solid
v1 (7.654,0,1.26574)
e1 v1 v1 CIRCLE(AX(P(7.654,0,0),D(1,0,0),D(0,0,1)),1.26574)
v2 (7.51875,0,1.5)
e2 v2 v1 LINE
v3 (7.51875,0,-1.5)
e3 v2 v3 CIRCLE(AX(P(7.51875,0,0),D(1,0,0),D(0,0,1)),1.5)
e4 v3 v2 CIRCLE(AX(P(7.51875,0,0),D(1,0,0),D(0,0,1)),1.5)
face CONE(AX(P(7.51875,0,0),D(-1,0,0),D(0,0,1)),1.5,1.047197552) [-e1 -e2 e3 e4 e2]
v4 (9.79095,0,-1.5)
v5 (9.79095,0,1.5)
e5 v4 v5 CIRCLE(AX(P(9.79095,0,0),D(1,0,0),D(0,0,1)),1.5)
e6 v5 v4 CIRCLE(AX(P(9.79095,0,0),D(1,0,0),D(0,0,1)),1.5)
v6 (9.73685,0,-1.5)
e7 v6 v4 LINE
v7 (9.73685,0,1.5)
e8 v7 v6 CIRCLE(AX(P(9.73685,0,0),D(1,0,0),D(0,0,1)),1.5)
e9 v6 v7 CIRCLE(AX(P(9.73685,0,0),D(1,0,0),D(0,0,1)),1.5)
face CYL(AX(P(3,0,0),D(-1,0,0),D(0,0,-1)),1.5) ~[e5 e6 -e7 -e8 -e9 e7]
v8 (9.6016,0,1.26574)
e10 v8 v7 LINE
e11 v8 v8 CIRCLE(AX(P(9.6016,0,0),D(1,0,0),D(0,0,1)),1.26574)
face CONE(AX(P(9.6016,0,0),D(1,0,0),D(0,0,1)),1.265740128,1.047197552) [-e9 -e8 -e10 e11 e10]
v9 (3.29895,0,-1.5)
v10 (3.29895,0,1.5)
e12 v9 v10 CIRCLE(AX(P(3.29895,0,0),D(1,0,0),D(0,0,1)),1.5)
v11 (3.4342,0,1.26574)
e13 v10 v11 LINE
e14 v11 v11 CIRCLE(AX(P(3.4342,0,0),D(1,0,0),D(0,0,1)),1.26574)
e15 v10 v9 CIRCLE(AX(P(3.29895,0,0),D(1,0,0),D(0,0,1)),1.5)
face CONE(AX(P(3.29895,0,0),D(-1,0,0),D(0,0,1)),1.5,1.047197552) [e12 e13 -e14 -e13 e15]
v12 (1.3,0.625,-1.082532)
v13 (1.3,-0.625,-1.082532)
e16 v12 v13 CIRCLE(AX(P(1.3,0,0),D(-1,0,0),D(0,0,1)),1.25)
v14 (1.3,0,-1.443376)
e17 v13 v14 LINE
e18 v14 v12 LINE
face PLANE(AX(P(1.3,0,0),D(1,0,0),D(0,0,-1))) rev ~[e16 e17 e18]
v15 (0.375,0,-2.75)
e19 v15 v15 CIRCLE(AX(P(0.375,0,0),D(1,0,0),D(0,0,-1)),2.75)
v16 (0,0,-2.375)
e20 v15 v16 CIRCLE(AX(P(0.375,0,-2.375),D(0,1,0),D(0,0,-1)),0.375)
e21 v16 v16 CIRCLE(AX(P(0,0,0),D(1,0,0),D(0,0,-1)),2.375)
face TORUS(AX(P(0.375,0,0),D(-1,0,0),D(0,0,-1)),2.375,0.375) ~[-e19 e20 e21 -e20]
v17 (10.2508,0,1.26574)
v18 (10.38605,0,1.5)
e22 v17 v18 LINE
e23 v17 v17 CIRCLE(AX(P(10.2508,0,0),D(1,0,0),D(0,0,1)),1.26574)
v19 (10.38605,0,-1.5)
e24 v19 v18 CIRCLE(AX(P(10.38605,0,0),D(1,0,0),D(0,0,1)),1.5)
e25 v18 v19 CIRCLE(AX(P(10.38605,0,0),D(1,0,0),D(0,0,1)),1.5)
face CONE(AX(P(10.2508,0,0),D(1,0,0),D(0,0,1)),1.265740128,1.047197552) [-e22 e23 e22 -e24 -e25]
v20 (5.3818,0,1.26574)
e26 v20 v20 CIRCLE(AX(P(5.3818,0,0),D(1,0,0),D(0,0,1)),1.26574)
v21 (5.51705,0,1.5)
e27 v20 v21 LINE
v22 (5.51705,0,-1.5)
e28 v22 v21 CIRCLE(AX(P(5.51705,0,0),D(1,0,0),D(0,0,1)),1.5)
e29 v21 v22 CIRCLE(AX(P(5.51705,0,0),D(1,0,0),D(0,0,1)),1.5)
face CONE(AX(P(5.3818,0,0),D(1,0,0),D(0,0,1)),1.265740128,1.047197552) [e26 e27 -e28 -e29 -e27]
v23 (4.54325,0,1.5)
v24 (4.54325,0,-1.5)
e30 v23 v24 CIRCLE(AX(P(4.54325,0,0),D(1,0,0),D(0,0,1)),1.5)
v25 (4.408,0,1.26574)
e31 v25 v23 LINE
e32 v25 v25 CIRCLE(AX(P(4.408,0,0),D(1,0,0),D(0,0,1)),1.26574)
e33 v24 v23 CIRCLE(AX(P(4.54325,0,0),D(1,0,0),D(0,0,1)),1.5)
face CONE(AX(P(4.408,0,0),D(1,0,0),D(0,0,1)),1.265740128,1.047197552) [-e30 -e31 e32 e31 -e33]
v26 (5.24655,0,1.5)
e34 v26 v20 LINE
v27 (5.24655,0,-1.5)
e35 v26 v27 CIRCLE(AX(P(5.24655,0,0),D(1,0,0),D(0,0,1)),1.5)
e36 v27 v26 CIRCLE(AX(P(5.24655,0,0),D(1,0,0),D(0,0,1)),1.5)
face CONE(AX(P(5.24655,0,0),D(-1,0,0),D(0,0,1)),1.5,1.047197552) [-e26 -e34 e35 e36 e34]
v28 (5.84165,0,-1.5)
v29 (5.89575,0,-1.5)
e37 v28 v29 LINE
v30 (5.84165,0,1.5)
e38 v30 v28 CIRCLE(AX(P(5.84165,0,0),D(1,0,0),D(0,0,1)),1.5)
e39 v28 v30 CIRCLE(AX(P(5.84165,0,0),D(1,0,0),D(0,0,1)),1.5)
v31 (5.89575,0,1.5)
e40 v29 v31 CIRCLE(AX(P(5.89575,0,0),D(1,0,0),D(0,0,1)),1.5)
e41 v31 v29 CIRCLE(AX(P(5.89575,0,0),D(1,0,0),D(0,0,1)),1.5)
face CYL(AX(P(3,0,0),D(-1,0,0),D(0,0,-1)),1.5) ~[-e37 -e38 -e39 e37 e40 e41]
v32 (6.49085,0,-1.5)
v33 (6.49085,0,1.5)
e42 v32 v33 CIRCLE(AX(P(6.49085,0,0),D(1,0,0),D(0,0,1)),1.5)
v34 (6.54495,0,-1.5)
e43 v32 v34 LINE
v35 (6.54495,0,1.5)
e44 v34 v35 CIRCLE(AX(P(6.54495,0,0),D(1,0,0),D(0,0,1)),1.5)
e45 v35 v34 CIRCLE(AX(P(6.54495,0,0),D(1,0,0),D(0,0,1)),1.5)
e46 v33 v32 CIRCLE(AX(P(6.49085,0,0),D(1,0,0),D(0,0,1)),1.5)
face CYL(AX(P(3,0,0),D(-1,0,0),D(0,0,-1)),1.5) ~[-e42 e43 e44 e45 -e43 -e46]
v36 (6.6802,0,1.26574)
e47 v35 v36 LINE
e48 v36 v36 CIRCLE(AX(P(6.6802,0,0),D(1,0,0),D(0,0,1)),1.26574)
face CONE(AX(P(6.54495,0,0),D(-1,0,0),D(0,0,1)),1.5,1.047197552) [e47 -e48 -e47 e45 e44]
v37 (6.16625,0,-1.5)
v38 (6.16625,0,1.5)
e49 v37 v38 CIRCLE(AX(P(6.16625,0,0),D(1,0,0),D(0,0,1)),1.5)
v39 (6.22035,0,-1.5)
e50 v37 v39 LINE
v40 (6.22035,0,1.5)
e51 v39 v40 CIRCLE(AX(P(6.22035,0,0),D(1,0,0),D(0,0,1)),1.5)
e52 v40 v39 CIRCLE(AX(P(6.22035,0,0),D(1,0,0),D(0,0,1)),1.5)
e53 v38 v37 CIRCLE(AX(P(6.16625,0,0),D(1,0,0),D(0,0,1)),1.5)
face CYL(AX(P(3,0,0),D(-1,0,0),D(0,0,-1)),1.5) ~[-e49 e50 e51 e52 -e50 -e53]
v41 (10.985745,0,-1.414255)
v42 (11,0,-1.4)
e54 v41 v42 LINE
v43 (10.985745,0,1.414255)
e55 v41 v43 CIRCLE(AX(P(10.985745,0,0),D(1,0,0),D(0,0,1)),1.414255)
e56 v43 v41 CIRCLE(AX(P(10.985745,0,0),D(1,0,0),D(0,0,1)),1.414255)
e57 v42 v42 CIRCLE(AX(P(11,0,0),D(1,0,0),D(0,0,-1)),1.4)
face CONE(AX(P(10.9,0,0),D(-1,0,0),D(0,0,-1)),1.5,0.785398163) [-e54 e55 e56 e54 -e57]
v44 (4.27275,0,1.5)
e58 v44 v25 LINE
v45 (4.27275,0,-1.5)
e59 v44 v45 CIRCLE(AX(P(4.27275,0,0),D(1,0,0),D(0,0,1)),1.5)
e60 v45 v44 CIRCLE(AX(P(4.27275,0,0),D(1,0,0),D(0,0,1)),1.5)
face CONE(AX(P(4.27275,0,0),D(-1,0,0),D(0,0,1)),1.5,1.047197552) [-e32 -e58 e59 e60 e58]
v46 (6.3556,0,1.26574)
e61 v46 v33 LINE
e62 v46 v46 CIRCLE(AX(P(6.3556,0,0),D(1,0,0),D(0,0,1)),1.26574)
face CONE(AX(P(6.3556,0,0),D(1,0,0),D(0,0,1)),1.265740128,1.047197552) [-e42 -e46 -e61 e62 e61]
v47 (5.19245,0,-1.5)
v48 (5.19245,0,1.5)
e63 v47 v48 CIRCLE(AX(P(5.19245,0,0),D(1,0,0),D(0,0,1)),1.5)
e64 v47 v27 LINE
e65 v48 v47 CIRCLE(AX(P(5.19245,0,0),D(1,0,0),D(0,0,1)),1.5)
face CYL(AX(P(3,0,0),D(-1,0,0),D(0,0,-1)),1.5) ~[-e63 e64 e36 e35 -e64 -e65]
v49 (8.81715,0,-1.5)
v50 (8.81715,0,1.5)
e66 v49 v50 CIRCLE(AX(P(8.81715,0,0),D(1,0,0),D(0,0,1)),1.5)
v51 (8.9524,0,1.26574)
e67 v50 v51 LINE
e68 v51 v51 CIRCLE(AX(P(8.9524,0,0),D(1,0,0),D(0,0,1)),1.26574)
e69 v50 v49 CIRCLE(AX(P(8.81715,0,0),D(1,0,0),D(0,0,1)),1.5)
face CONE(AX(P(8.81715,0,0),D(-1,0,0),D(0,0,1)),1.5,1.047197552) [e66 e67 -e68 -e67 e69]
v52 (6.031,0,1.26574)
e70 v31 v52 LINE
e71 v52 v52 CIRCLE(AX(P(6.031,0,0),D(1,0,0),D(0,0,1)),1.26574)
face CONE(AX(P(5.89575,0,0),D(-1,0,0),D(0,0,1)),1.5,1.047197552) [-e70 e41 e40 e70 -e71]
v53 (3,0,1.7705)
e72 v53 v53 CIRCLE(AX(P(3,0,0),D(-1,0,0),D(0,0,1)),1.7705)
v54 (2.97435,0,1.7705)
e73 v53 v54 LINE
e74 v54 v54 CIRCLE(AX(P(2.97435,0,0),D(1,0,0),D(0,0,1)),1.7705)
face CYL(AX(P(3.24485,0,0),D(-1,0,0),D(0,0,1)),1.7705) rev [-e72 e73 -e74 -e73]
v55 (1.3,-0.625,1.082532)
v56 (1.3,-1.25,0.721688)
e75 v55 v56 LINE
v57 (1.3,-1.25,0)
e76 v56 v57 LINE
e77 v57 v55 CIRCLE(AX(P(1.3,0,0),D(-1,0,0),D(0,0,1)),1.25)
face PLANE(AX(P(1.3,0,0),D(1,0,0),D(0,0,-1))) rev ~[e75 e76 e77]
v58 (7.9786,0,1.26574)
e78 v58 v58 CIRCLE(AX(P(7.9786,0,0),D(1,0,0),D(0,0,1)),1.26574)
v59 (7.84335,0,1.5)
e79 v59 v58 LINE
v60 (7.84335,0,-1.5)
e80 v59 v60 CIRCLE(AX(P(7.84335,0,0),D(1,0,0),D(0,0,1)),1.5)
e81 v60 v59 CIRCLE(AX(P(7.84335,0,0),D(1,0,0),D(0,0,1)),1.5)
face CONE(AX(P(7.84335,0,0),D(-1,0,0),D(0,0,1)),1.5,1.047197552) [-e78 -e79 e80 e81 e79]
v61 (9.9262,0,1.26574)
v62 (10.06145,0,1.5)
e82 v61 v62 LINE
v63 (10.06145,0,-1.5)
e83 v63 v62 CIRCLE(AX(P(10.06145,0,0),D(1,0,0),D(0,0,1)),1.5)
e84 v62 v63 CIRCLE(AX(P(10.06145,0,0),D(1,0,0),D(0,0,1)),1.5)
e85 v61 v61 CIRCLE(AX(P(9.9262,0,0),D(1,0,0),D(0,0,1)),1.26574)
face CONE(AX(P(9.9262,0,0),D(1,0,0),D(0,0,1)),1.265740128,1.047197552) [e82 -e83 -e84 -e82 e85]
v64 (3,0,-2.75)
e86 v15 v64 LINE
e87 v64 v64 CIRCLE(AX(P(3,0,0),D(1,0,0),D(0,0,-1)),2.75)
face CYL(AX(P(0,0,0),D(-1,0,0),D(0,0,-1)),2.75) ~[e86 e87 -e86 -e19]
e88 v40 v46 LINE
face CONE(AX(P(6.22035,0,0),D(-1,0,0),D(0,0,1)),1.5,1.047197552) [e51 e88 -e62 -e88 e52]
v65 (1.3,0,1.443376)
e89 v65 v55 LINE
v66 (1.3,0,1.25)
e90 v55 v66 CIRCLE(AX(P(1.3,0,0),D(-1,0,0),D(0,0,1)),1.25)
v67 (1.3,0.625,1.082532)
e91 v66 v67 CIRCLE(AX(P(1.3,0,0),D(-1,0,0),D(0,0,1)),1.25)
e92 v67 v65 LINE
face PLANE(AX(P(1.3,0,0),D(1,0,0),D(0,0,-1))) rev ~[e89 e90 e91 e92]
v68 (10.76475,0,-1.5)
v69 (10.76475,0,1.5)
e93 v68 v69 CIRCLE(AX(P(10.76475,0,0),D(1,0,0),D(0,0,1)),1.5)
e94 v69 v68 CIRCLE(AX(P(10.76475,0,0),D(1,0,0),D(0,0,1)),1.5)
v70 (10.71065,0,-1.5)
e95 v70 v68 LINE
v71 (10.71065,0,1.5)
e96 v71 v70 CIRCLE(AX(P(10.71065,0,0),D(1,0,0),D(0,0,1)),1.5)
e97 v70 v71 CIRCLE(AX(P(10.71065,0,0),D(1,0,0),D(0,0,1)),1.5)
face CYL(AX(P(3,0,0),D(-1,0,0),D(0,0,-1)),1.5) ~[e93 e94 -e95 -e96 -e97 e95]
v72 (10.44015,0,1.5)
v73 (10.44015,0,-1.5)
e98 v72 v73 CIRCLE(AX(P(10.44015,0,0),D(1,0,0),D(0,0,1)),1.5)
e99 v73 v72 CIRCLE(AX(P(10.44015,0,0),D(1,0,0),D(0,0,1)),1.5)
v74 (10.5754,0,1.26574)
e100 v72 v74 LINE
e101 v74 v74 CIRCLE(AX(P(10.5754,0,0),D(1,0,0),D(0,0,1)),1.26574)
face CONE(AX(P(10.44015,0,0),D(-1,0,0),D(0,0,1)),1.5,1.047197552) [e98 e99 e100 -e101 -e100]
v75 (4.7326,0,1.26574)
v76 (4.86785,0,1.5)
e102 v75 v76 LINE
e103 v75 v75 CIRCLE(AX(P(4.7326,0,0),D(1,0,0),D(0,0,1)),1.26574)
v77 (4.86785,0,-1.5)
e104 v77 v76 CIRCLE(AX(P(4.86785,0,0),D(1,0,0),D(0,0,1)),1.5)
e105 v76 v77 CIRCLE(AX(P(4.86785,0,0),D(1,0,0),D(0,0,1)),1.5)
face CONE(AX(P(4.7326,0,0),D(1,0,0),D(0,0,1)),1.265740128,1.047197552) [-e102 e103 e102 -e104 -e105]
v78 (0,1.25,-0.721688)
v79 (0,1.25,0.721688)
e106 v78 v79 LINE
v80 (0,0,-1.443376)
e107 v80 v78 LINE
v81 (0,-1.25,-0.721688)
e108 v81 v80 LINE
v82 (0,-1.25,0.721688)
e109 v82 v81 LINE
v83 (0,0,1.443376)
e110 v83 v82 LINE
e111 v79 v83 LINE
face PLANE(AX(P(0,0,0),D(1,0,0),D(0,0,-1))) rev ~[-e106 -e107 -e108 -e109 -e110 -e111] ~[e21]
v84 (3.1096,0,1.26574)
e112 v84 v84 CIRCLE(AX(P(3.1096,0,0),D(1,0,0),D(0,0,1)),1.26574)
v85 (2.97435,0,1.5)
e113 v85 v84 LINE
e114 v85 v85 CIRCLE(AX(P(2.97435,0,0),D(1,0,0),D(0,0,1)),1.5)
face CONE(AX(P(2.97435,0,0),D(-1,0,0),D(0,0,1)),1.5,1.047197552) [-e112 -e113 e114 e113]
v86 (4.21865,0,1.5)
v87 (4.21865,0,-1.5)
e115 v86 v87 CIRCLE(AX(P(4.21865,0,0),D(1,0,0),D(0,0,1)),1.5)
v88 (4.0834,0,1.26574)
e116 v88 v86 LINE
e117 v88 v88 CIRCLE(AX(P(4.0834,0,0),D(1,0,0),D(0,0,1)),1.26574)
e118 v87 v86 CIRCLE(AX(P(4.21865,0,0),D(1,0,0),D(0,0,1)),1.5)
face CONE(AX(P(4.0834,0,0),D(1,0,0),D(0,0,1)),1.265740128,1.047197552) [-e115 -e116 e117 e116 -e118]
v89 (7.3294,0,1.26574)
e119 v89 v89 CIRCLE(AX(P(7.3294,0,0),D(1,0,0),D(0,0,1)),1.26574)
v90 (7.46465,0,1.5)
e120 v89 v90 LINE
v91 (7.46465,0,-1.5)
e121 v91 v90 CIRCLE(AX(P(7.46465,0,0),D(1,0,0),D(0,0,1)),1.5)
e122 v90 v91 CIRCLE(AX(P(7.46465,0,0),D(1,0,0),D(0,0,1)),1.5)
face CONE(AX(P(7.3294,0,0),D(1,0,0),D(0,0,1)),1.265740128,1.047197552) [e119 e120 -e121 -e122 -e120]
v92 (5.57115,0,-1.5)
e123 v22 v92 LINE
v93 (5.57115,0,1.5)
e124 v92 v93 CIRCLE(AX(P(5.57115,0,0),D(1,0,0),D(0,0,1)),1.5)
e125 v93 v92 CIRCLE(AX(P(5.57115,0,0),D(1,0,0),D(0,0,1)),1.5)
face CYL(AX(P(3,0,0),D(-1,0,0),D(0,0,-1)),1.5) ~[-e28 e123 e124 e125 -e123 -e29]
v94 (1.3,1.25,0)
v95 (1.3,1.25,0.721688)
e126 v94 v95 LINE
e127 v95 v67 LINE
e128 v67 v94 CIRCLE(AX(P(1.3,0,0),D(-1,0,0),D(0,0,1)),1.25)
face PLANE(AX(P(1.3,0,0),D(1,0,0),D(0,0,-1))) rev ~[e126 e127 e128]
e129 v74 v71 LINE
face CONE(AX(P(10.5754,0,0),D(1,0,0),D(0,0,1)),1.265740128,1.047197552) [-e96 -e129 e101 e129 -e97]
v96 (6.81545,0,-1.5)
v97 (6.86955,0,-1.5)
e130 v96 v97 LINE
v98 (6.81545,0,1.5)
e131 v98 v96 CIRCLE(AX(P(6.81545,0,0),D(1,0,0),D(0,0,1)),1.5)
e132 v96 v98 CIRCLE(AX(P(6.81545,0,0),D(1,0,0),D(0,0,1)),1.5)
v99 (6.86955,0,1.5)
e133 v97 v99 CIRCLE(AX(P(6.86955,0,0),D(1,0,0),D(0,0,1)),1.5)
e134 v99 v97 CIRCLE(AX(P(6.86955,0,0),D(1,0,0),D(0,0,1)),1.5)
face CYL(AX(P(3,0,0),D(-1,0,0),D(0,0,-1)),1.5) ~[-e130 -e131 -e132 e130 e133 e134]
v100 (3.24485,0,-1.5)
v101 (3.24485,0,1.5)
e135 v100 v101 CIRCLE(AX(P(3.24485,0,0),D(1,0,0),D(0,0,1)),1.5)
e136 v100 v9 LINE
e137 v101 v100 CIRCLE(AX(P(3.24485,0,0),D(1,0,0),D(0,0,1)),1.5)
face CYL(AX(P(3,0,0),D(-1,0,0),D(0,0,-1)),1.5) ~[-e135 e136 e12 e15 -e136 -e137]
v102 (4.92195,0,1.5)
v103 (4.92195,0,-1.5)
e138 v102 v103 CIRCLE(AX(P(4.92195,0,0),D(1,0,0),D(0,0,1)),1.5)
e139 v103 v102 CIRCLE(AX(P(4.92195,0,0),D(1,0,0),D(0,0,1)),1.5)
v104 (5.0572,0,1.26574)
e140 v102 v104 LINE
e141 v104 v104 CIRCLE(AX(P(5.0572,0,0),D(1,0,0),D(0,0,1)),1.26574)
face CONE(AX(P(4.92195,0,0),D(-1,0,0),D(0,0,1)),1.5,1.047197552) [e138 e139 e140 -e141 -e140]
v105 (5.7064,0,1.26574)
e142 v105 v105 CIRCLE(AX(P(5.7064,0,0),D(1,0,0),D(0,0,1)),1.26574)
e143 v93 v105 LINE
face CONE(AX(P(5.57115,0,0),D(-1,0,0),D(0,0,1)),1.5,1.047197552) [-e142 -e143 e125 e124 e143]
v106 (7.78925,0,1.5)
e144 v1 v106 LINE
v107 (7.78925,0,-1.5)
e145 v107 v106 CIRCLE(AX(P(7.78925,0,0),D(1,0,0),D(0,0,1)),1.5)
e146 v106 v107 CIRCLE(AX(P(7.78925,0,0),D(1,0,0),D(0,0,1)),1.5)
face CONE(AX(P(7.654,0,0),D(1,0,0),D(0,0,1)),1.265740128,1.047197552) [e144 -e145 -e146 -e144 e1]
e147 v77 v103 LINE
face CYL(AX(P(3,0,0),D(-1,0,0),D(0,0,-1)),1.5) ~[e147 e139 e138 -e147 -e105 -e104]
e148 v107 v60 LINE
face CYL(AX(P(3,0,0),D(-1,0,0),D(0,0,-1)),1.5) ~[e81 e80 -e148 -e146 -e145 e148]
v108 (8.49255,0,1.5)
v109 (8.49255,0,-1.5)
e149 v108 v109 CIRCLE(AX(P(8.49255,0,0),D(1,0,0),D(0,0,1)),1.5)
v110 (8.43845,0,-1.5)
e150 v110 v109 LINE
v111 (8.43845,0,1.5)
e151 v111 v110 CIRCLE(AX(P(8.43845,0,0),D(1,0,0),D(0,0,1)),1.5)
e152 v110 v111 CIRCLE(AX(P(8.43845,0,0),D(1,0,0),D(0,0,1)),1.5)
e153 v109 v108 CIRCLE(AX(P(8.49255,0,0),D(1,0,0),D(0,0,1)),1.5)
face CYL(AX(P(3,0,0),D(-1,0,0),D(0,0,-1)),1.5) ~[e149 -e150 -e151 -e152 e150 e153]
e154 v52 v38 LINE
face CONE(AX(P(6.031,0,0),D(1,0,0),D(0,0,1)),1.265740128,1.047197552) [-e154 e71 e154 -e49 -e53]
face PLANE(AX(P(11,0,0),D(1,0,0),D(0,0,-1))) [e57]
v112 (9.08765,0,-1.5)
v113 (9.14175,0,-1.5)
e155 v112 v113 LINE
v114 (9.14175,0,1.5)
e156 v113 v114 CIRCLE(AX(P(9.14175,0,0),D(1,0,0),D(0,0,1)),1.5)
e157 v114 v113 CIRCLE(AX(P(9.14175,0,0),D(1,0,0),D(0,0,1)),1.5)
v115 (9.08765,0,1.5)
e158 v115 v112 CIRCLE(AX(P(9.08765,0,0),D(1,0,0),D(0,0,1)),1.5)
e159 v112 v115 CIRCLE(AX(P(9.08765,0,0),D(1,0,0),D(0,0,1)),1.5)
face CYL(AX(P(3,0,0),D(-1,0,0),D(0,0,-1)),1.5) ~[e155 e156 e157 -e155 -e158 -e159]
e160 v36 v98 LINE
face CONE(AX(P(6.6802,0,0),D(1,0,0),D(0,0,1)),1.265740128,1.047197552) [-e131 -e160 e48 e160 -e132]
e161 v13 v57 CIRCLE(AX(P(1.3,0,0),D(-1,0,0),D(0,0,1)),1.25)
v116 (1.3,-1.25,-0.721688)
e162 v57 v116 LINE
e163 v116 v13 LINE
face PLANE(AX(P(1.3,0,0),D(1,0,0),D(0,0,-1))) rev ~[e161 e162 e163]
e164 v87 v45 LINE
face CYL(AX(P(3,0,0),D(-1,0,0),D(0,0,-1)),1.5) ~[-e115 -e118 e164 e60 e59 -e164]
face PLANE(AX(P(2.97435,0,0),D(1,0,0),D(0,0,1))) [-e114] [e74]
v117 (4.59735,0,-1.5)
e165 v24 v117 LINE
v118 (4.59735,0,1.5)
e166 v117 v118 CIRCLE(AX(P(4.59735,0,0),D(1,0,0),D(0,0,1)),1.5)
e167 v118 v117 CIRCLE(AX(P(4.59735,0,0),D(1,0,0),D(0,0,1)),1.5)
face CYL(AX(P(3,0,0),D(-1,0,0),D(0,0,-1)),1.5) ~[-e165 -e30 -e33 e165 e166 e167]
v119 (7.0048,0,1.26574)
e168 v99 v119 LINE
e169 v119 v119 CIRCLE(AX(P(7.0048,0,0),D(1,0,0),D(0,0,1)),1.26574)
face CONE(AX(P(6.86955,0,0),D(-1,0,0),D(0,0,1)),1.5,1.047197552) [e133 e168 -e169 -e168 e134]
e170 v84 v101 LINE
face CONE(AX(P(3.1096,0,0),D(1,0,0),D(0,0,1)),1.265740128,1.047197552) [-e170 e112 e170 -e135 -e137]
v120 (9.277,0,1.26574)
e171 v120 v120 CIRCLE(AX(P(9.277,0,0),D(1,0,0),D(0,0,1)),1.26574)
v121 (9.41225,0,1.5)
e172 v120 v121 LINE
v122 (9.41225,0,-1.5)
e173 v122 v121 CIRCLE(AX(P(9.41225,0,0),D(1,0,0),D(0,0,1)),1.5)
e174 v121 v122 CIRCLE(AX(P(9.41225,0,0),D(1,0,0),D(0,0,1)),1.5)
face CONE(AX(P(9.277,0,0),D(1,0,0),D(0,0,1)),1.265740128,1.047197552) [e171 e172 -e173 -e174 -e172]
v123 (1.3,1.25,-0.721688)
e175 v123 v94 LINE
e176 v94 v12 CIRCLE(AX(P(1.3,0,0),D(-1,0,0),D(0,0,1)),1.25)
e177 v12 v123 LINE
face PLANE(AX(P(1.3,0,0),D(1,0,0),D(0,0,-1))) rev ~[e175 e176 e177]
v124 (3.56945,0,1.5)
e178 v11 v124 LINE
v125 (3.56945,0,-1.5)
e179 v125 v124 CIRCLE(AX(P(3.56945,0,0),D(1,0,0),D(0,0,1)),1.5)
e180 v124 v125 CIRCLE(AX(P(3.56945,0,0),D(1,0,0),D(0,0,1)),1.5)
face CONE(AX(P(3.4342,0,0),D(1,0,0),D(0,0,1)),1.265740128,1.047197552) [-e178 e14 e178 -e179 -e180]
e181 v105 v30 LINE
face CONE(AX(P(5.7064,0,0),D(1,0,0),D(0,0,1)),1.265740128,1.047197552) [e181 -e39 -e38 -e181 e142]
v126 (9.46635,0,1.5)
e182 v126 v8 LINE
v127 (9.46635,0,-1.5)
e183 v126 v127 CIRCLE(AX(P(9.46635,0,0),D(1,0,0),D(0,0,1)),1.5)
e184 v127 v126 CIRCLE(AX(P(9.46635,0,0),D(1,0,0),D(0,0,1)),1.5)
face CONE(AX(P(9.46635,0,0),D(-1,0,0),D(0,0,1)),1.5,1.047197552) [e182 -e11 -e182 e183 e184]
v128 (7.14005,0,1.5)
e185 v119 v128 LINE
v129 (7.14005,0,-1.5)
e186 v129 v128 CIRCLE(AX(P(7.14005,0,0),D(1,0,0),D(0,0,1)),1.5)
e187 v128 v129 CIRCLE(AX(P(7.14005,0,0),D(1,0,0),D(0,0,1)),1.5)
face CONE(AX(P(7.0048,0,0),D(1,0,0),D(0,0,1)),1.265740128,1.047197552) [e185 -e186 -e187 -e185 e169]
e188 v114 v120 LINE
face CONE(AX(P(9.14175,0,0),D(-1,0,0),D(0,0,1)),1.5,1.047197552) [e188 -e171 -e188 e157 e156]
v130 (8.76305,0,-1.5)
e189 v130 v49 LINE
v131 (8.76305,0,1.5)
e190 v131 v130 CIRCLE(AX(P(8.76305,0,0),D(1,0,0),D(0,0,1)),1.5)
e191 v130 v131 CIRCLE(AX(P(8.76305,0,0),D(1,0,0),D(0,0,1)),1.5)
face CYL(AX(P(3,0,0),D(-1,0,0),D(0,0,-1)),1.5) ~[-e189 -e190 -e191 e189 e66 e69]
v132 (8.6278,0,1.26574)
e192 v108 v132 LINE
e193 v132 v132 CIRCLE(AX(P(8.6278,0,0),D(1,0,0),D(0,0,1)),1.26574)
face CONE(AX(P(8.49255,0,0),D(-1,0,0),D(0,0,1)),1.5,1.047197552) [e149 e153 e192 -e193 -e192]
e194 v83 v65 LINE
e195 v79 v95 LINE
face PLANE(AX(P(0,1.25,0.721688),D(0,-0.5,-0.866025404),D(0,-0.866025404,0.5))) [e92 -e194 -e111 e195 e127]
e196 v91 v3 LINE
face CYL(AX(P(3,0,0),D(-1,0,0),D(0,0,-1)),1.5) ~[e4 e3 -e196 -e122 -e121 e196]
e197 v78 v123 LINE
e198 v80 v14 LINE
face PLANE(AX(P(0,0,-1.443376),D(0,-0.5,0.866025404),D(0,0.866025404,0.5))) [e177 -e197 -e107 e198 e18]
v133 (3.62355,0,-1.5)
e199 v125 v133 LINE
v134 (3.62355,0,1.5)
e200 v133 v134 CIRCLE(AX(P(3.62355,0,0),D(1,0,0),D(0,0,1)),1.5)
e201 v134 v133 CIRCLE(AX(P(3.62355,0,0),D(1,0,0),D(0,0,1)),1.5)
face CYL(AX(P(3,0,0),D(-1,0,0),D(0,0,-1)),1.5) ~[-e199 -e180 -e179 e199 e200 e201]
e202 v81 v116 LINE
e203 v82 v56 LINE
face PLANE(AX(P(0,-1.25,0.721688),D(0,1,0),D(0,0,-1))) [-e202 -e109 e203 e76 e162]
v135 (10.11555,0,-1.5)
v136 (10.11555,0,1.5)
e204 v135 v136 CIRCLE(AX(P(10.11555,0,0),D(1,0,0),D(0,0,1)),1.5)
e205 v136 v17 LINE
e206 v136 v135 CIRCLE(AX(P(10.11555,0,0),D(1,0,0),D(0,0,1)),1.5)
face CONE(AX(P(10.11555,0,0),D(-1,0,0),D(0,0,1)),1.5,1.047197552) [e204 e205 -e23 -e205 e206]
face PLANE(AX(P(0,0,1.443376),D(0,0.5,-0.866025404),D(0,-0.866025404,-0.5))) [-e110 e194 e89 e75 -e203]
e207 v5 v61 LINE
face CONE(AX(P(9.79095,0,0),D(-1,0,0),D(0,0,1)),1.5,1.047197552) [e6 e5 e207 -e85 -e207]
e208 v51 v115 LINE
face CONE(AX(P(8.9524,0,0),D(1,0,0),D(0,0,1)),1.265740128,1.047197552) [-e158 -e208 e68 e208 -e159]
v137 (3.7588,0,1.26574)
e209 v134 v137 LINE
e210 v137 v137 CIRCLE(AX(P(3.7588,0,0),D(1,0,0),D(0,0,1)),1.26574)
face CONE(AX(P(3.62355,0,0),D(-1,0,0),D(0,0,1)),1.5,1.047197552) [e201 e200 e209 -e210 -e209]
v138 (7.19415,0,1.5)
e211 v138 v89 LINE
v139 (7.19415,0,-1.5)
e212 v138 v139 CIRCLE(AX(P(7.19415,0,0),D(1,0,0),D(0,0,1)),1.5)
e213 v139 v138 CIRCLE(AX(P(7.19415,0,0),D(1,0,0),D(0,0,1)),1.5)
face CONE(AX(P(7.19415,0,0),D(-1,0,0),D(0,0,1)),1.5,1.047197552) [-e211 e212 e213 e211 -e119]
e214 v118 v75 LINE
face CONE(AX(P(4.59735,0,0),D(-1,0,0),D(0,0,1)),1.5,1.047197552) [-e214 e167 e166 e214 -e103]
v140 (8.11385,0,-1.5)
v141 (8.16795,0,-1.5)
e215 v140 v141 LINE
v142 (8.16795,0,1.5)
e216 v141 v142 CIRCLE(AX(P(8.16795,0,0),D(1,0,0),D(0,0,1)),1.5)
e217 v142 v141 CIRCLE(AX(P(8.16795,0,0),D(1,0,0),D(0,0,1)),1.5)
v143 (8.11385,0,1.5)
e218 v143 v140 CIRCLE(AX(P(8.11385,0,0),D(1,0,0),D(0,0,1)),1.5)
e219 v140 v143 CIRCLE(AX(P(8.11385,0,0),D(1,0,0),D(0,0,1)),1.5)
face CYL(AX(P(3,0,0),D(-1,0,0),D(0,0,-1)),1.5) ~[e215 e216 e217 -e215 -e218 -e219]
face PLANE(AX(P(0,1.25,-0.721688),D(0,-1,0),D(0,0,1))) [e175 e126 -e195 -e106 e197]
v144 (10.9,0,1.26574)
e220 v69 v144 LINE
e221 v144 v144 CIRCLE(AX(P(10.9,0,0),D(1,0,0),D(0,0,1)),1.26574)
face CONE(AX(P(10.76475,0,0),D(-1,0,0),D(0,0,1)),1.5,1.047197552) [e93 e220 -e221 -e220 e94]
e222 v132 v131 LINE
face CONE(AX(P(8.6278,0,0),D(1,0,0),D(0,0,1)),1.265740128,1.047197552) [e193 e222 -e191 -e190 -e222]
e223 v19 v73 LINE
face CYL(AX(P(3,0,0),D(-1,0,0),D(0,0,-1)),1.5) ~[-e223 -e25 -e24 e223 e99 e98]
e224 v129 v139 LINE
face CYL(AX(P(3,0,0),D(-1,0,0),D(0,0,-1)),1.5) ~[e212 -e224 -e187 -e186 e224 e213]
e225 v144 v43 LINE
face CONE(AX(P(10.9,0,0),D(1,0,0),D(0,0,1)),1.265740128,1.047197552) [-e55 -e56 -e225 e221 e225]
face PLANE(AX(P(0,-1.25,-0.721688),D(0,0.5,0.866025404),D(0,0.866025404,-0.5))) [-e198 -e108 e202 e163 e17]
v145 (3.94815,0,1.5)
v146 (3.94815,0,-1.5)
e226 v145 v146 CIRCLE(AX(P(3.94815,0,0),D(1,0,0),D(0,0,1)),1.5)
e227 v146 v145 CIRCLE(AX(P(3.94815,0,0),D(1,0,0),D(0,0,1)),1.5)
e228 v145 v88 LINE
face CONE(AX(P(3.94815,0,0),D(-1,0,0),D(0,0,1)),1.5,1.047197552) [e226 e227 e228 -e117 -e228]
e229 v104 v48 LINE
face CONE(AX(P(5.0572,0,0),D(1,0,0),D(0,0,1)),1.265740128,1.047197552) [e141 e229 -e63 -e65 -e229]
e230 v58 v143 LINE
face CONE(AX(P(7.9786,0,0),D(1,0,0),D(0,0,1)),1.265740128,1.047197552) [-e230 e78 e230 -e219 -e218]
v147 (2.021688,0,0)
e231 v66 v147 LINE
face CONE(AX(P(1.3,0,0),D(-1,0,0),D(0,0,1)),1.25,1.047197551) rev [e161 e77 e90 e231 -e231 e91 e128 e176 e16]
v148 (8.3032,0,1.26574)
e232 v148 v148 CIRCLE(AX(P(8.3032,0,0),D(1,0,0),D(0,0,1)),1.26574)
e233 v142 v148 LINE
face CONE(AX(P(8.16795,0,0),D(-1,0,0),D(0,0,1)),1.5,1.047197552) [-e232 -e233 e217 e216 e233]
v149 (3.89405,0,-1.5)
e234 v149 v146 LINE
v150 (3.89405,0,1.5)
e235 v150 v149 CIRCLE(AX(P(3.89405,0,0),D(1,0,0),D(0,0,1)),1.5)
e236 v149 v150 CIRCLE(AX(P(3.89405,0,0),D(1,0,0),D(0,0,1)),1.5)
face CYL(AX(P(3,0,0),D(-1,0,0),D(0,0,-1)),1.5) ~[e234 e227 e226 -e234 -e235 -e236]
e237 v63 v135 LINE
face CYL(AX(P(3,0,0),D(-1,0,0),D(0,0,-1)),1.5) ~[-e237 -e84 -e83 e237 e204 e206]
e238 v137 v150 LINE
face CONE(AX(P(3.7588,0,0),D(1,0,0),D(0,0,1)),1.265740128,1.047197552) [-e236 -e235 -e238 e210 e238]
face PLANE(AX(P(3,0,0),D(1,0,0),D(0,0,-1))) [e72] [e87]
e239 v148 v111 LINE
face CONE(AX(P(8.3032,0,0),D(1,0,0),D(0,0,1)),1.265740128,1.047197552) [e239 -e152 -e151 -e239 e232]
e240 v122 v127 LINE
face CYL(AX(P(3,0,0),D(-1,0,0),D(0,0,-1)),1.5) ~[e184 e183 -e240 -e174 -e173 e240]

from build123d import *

# Parameters (mm, degrees)
SKETCH1_R           = 2.75
BASEHEAD_DEPTH      = 3
SKETCH2_R           = 1.5
BASEBODY_DEPTH      = 8
HEXAGONSOCKET_DEPTH = 1.3
TOPFILLET_R         = 0.375
CHAMFER1_SIZE       = 0.1
LPATTERN10_COUNT    = 25
LPATTERN10_PITCH    = 0.3246


with BuildPart() as part:
    # Sketch1 → BaseHead (new body)
    with BuildSketch(Plane(origin=(0, 0, 0), x_dir=(0, 0, -1), z_dir=(1, 0, 0))):
        Circle(SKETCH1_R)
    extrude(amount=BASEHEAD_DEPTH)

    # Sketch2 → BaseBody (add)
    with BuildSketch(Plane(origin=(3, 0, 0), x_dir=(0, 0, -1), z_dir=(1, 0, 0))):
        Circle(SKETCH2_R)
    extrude(amount=BASEBODY_DEPTH)

    # Sketch3 → HexagonSocket (cut)
    with BuildSketch(Plane(origin=(0, 0, 0), x_dir=(0, 0, -1), z_dir=(1, 0, 0))):
        Polygon((1.443375673, 0), (0.721687836, 1.25), (-0.721687836, 1.25), (-1.443375673, 0), (-0.721687836, -1.25), (0.721687836, -1.25), align=None)
    extrude(amount=HEXAGONSOCKET_DEPTH, mode=Mode.SUBTRACT)

    # Sketch4 → Cut-Revolve1 (revolve, cut)
    with BuildSketch(Plane(origin=(-4.19613823, 0.75, 0), x_dir=(-1, 0, 0), z_dir=(0, 0, 1)), mode=Mode.PRIVATE) as cut_revolve1_sk:
        Polygon((-5.49613823, 2), (-6.217826066, 0.75), (-5.49613823, 0.75), align=None)
    revolve(cut_revolve1_sk.sketch.rotate(Axis((0.838992387, 0, 0), (-1, 0, 0)), 90), axis=Axis((0.838992387, 0, 0), (-1, 0, 0)), mode=Mode.SUBTRACT)

    # TopFillet
    topfillet_edges = [part.edges().sort_by_distance(p)[0] for p in [
        (0, 0, 2.75),
    ]]
    fillet(topfillet_edges, radius=TOPFILLET_R)

    # Chamfer1
    chamfer1_edges = [part.edges().sort_by_distance(p)[0] for p in [
        (11, 0, 1.5),
    ]]
    chamfer(chamfer1_edges, length=CHAMFER1_SIZE)

    # Sketch5 → Cut-Revolve10 (revolve, cut)
    with BuildSketch(Plane.XY, mode=Mode.PRIVATE) as cut_revolve10_sk:
        Polygon((10.9, 1.265740128), (11.03525, 1.5), (11.03525, 1.7705), (10.76475, 1.7705), (10.76475, 1.5), align=None)
    cut_revolve10 = revolve(cut_revolve10_sk.sketch.rotate(Axis((0, 0, 0), (1, 0, 0)), 90), axis=Axis((0, 0, 0), (1, 0, 0)), mode=Mode.SUBTRACT)

    # LPattern10: Cut-Revolve10 ×25
    with Locations(*[(-i * LPATTERN10_PITCH, 0, 0) for i in range(1, LPATTERN10_COUNT)]):
        add(cut_revolve10, mode=Mode.SUBTRACT)


solid = part.part
